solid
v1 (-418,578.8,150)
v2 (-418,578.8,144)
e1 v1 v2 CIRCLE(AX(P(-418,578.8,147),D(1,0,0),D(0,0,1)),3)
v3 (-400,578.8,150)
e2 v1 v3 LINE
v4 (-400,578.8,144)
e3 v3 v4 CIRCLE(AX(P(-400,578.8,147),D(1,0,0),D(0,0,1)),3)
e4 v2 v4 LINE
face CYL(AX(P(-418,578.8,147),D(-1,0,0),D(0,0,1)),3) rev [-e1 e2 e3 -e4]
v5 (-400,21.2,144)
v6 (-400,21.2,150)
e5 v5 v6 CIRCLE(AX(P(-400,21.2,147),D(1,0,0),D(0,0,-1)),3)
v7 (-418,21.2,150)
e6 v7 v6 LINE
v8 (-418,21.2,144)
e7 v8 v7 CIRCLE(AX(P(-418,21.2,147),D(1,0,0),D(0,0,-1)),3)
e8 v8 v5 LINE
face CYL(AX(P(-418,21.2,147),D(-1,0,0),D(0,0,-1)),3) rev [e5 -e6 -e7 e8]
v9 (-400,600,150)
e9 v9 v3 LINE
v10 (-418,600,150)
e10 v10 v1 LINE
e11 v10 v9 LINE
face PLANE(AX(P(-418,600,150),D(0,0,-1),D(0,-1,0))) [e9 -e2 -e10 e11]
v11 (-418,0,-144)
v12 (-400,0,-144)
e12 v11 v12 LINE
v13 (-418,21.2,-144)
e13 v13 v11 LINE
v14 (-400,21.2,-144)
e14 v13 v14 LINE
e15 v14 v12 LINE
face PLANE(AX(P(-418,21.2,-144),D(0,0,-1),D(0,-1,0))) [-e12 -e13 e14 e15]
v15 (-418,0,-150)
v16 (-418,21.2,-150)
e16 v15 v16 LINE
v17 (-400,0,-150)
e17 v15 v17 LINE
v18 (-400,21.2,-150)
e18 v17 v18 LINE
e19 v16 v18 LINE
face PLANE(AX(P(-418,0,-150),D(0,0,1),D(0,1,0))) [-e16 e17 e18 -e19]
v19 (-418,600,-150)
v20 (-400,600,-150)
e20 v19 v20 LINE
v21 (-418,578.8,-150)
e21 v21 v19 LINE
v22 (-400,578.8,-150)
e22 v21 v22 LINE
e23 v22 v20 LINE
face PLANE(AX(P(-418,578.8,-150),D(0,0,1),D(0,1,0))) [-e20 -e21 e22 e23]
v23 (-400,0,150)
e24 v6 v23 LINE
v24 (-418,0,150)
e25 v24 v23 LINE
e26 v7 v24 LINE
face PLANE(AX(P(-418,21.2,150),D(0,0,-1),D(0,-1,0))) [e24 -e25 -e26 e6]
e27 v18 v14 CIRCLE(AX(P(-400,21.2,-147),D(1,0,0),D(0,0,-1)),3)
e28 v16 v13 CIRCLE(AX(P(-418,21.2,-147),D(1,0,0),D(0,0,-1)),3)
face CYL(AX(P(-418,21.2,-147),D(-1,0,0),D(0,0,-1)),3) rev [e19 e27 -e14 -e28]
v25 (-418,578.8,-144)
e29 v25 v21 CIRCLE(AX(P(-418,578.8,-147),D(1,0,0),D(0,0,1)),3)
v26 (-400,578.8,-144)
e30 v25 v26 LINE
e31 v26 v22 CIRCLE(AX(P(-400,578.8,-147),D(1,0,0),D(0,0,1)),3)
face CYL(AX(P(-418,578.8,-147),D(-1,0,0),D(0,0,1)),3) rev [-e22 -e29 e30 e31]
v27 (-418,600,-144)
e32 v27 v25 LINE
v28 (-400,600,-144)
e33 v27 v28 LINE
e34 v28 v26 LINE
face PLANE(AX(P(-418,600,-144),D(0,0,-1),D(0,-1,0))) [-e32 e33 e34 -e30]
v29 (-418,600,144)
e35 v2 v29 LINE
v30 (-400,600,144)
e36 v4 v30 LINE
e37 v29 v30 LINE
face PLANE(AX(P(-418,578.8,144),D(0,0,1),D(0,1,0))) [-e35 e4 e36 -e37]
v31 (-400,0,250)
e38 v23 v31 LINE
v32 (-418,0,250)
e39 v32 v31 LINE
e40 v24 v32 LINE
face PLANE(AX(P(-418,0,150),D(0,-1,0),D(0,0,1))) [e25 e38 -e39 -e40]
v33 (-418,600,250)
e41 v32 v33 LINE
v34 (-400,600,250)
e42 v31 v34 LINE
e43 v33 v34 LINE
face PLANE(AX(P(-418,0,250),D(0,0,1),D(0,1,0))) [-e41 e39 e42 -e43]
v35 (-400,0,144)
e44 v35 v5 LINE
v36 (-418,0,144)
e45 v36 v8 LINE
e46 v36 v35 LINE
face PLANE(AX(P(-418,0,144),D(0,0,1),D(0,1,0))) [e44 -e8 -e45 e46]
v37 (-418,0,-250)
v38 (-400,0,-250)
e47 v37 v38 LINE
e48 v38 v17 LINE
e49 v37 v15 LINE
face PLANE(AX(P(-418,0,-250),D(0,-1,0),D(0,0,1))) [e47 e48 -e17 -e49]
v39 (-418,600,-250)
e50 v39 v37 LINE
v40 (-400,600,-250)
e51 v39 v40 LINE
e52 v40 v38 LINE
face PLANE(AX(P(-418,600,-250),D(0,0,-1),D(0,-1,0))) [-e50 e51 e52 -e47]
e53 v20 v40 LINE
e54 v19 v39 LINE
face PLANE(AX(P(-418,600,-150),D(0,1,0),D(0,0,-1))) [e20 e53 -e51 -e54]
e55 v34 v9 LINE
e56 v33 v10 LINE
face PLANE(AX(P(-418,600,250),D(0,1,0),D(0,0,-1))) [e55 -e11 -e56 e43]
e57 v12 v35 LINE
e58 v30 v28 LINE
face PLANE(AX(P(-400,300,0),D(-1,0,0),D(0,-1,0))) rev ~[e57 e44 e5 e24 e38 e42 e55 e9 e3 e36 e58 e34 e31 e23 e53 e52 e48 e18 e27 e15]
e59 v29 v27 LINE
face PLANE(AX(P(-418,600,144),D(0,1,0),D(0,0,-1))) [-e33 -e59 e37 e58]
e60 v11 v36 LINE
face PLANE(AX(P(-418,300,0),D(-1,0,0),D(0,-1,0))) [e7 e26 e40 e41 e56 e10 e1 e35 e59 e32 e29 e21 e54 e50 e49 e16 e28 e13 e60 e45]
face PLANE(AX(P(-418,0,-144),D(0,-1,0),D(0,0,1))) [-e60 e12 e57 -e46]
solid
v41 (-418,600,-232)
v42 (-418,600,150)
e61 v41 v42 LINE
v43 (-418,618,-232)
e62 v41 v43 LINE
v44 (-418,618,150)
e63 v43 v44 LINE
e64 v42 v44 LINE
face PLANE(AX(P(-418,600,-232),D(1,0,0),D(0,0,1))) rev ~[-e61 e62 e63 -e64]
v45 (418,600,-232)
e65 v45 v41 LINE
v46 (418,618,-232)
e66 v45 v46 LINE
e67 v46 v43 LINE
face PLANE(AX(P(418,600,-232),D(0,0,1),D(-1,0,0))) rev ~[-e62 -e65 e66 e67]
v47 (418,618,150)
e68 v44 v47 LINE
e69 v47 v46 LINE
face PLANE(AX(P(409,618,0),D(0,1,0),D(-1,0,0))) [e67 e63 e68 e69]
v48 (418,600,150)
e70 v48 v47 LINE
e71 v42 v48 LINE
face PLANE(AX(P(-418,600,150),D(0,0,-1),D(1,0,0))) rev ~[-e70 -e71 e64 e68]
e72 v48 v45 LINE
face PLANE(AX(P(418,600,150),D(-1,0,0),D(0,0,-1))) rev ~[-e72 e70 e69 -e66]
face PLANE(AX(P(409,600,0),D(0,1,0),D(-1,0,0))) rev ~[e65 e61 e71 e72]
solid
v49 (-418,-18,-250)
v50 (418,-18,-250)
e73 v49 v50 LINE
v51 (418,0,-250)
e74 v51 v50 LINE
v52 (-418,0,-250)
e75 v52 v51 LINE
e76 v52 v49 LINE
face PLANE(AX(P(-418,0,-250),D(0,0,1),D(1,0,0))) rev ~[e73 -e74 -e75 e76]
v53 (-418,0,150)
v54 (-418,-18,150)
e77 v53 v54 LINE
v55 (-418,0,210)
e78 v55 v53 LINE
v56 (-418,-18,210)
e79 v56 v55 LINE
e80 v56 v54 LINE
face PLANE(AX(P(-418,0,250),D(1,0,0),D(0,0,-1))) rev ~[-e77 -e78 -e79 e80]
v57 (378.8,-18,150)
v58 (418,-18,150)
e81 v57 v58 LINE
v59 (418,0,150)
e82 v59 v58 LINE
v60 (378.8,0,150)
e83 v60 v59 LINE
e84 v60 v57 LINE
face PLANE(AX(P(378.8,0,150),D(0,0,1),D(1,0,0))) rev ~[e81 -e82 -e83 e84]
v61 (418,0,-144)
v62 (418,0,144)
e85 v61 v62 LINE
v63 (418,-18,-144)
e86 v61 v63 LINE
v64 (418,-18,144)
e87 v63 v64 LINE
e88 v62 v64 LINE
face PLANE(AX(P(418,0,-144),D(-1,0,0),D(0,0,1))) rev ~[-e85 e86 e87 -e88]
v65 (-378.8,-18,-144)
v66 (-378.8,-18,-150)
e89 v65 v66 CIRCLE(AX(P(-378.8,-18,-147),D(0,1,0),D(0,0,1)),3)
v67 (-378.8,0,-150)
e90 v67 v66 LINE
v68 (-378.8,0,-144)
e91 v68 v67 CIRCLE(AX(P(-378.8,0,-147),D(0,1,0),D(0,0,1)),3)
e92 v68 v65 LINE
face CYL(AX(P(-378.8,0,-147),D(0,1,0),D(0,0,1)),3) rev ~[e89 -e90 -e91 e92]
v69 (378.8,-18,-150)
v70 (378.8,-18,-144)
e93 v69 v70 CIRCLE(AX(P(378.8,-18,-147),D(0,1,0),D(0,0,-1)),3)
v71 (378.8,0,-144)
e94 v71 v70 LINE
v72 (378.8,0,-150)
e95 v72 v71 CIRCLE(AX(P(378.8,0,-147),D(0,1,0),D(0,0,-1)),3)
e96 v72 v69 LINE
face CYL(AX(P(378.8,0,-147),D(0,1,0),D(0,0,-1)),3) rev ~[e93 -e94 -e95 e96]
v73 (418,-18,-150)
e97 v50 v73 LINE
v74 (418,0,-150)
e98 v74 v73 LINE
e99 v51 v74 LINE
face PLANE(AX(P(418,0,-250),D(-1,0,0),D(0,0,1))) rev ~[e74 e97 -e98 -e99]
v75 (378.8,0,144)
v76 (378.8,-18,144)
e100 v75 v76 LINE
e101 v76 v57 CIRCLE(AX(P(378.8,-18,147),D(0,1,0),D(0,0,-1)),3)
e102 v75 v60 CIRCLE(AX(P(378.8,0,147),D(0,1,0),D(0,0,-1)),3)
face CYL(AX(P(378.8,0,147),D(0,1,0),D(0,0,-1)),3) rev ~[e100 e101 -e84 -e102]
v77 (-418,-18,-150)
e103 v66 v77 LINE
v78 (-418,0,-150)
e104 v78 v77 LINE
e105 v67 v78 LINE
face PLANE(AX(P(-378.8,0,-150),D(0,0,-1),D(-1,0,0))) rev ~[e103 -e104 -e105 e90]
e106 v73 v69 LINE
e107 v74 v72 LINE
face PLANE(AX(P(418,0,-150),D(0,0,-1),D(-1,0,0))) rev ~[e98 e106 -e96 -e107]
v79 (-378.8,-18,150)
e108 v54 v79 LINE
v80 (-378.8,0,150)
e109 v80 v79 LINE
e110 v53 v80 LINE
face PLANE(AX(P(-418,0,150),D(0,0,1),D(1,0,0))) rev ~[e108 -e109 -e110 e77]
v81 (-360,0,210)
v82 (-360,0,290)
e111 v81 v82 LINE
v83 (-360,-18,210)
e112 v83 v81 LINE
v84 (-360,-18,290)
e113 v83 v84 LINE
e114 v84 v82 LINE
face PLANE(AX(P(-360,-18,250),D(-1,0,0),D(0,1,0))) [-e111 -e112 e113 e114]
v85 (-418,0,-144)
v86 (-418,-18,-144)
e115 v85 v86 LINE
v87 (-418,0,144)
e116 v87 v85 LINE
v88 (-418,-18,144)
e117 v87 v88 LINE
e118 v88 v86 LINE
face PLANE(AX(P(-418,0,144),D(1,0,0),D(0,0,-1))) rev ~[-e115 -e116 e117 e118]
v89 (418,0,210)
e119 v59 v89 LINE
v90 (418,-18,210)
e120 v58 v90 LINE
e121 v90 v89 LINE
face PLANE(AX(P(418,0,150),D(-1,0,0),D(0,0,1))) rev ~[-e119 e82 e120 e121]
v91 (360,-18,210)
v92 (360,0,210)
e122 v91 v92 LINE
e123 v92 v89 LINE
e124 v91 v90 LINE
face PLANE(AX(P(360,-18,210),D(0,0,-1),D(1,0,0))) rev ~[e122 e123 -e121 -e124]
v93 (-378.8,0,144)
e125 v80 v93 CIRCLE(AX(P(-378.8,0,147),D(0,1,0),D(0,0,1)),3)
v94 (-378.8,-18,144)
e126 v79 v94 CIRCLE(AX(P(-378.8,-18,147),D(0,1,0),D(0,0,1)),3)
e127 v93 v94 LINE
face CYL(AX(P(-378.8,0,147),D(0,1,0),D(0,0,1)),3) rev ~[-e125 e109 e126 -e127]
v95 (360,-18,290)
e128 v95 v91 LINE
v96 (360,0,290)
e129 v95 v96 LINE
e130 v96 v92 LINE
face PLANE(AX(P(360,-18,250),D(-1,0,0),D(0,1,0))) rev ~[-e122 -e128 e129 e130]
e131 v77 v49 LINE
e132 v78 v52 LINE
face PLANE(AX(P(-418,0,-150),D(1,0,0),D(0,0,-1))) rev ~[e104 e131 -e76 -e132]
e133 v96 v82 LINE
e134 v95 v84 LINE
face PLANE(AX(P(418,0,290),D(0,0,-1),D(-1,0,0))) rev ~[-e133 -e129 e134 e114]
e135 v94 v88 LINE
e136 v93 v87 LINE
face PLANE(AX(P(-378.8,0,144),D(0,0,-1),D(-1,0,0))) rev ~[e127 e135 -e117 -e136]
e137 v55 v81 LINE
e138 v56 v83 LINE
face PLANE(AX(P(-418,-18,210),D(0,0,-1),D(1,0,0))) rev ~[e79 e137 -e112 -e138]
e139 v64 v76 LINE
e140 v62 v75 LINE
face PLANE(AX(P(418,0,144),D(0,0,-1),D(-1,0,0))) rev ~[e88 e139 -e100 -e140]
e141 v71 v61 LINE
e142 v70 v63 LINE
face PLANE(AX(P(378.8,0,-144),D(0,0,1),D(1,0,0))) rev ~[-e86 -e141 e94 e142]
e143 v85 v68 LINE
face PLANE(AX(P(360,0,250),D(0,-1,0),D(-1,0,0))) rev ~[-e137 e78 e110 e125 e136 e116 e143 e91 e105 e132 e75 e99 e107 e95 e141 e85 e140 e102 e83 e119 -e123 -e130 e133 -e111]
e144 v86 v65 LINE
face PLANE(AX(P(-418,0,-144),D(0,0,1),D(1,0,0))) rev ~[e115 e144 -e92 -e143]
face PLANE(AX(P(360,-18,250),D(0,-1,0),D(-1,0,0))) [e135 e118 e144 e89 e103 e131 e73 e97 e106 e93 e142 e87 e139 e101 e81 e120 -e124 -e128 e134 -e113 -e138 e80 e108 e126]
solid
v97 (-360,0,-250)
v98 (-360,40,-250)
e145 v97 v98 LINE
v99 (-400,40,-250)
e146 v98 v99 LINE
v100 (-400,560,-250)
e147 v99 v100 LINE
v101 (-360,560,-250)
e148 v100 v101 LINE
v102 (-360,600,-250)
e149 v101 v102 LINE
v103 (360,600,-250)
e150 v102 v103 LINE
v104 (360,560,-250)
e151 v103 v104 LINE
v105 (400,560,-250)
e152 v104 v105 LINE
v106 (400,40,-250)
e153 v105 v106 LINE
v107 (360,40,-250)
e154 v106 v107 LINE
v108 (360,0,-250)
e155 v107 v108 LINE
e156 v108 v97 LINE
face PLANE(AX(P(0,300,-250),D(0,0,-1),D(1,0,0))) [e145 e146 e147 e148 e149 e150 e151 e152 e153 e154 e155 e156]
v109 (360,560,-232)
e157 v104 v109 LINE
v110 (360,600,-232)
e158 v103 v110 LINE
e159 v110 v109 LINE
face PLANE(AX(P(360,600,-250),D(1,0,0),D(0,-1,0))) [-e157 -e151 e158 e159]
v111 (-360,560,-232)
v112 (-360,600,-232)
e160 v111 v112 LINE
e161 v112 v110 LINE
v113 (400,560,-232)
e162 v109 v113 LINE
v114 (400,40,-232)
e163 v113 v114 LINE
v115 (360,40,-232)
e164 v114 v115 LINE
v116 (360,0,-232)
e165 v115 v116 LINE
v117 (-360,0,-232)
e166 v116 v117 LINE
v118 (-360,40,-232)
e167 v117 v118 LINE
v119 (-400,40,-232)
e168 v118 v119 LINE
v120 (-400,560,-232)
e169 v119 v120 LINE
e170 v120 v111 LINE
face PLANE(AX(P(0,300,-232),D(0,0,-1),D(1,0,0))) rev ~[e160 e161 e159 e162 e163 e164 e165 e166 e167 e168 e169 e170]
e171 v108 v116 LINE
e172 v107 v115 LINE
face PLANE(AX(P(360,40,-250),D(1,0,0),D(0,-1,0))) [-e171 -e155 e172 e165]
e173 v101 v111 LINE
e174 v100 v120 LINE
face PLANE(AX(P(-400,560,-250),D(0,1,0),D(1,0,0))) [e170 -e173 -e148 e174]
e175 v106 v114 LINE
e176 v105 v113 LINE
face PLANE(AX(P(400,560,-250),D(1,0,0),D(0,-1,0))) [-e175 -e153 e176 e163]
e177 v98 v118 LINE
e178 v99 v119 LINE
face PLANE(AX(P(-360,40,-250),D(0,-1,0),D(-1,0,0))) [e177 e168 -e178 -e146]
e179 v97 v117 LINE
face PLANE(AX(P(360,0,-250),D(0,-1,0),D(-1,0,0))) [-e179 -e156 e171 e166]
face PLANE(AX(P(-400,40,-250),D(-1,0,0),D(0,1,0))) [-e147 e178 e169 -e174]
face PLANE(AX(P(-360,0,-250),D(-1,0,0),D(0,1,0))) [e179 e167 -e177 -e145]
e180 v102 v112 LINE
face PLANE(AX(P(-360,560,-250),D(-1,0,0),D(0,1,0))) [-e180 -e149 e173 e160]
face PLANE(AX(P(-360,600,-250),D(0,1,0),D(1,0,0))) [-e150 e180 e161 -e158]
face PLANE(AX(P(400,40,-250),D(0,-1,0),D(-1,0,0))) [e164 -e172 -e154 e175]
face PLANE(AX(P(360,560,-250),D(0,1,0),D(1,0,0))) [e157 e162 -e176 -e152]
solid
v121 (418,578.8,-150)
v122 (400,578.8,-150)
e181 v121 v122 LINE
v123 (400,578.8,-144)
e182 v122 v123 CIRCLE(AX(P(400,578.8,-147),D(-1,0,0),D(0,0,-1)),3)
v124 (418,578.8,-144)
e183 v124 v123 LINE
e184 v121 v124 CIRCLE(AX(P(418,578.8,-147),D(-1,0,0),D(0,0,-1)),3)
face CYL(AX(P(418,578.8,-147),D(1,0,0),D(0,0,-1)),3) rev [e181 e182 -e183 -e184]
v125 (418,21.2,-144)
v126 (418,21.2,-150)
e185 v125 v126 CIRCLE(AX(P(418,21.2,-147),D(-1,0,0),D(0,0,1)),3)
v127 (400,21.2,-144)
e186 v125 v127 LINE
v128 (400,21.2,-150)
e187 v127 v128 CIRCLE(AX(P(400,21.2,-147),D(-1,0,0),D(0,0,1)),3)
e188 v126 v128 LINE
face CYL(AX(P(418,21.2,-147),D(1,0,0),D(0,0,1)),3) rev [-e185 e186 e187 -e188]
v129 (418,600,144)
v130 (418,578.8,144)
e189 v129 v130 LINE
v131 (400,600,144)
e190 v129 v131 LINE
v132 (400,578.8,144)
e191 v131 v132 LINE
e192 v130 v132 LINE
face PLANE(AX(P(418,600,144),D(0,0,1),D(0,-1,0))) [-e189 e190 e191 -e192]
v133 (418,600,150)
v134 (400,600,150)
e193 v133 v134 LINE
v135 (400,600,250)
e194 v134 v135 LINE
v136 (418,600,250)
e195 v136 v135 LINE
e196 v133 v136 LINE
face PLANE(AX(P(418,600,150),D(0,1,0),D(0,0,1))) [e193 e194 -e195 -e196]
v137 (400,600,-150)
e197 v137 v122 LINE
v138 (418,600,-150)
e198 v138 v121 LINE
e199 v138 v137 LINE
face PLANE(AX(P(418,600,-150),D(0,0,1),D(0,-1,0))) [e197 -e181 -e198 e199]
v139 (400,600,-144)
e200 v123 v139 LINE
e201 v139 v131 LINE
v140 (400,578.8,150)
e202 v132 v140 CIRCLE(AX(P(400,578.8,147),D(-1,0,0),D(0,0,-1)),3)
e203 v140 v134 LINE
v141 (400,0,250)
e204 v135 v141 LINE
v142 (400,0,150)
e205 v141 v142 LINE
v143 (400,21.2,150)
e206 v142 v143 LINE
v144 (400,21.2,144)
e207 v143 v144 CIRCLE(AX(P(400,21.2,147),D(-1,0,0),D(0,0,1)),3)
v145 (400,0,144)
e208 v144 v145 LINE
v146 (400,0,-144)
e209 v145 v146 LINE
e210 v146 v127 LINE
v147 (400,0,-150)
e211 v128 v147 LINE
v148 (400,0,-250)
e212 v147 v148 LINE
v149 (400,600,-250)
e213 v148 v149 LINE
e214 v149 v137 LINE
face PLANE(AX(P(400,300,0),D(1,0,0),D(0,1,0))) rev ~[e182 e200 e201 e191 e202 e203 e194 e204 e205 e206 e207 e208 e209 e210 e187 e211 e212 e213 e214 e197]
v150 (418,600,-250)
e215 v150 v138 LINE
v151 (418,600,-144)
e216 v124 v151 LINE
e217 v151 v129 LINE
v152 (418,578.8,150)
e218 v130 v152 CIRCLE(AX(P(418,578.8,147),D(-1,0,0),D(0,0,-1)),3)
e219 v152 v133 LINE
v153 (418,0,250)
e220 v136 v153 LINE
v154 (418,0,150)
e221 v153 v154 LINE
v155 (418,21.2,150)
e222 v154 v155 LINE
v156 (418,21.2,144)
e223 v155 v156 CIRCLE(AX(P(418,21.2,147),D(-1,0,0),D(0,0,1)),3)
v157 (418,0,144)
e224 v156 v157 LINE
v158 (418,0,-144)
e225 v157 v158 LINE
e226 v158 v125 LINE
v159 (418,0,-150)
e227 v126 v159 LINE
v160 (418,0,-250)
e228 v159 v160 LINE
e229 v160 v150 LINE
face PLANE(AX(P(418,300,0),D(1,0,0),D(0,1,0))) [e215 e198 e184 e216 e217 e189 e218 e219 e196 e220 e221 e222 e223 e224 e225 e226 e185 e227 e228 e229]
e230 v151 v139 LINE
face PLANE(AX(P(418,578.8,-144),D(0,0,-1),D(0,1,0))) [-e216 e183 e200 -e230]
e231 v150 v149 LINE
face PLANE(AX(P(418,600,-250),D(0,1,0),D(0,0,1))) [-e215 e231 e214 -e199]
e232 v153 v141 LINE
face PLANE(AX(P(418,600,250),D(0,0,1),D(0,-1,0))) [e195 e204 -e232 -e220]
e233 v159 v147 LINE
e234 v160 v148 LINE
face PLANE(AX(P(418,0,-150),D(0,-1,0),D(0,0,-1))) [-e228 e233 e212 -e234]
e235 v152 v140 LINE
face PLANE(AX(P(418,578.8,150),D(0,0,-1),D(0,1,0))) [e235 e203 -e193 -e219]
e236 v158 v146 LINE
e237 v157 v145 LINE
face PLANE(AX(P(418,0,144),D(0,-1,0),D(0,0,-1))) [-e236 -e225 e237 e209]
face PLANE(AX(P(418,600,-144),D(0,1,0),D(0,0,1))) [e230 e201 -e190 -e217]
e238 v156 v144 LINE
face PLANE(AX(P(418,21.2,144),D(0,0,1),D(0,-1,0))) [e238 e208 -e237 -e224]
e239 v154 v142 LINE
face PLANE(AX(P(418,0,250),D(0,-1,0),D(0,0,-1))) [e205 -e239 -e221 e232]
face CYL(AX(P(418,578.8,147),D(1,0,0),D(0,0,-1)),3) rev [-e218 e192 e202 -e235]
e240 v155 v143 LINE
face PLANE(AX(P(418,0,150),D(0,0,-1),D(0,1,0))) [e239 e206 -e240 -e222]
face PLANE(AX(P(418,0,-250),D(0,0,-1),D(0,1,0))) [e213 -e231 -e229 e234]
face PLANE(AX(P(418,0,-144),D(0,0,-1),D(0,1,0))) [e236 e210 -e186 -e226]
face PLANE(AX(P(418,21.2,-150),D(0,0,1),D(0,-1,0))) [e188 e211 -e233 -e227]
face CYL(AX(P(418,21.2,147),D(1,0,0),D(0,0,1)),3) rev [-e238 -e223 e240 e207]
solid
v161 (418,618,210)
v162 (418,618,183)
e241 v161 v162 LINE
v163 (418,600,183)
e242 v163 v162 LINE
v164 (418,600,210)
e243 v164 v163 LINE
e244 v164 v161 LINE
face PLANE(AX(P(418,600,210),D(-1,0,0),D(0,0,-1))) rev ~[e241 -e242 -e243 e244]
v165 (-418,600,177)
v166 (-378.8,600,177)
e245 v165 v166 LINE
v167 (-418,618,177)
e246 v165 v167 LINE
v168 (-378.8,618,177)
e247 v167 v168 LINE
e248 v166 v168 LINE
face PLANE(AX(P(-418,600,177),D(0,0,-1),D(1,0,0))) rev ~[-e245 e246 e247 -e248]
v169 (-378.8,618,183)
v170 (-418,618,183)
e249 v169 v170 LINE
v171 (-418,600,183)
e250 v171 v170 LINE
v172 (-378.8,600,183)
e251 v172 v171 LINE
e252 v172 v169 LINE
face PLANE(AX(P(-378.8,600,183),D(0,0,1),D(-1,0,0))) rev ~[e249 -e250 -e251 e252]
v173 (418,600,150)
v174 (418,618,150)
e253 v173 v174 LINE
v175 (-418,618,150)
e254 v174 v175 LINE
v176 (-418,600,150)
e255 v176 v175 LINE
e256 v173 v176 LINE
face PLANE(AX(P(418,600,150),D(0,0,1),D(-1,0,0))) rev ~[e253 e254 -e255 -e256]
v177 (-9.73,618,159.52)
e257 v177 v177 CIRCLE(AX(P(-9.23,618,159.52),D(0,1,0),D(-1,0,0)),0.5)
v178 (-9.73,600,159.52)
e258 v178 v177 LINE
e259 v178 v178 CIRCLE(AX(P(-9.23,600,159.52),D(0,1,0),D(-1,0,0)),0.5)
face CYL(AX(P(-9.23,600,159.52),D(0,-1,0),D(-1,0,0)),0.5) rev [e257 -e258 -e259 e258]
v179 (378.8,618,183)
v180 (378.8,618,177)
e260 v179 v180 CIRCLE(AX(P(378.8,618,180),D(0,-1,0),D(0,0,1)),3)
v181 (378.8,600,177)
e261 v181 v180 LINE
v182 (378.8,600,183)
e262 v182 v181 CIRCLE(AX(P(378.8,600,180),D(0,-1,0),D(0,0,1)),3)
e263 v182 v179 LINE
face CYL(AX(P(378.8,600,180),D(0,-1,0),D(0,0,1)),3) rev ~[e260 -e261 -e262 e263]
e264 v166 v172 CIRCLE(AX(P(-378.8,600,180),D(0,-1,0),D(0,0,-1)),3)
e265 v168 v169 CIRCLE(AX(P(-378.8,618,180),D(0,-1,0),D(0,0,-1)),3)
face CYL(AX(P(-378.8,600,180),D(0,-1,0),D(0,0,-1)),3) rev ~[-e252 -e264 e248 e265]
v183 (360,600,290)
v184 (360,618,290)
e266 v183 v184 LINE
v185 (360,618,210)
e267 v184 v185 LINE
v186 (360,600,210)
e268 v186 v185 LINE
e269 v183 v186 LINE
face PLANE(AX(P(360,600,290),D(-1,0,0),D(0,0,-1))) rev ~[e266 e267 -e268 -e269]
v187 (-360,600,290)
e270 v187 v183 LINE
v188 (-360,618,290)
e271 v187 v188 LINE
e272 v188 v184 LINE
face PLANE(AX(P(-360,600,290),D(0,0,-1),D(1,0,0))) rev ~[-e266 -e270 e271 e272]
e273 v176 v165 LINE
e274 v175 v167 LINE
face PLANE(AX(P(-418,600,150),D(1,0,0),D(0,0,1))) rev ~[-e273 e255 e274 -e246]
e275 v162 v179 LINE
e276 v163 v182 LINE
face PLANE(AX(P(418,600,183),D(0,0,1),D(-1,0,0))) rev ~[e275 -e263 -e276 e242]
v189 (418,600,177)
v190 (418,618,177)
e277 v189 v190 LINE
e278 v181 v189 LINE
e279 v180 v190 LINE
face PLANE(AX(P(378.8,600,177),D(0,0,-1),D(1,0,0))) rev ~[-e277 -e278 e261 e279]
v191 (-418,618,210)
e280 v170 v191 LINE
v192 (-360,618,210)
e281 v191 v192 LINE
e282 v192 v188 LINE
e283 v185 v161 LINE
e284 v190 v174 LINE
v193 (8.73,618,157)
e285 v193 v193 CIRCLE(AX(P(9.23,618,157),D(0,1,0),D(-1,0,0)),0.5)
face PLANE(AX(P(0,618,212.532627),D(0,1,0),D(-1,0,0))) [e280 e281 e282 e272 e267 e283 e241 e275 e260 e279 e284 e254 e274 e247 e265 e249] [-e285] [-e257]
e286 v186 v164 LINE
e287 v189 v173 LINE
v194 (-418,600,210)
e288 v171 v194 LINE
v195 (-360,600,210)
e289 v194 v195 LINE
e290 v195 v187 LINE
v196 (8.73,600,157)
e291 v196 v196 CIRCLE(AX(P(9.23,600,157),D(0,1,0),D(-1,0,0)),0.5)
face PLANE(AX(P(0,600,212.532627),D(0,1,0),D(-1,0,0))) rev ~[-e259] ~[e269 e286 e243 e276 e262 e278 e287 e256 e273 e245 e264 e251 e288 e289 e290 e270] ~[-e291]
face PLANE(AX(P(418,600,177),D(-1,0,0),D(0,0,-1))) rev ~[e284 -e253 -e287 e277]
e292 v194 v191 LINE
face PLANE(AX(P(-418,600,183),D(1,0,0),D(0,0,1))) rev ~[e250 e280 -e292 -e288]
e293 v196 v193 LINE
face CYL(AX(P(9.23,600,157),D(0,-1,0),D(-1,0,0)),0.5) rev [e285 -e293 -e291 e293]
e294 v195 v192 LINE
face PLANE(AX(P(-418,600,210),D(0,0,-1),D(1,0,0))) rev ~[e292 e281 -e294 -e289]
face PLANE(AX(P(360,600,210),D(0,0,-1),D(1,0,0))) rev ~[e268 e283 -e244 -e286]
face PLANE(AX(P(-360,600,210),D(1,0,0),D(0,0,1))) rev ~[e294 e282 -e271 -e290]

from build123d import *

# Parameters (mm, degrees)
F1_DEPTH  = 18
F3_DEPTH  = 18
F5_DEPTH  = 18
F6_W      = 58
F6_H      = 40
F7_DEPTH  = 25
F8_DEPTH  = 40
F10_DEPTH = 18
F11_R     = 0.5
F12_DEPTH = 18
F11_W     = 18
F11_H     = 288
F13_DEPTH = 18


with BuildPart() as f1:
    # F0 (on Front) → F1 (new body)
    with BuildSketch(Plane.XZ):
        with BuildLine():
            Line((-418, -250), (418, -250))
            Line((418, -250), (418, -150))
            Line((418, -150), (378.8, -150))
            ThreePointArc((378.8, -150), (375.8, -147), (378.8, -144))
            Line((378.8, -144), (418, -144))
            Line((418, -144), (418, 144))
            Line((418, 144), (378.8, 144))
            ThreePointArc((378.8, 144), (375.8, 147), (378.8, 150))
            Line((378.8, 150), (418, 150))
            Line((418, 150), (418, 250))
            Line((418, 250), (-418, 250))
            Line((-418, 250), (-418, 150))
            Line((-418, 150), (-378.8, 150))
            ThreePointArc((-378.8, 150), (-375.8, 147), (-378.8, 144))
            Line((-378.8, 144), (-418, 144))
            Line((-418, 144), (-418, -144))
            Line((-418, -144), (-378.8, -144))
            ThreePointArc((-378.8, -144), (-375.8, -147), (-378.8, -150))
            Line((-378.8, -150), (-418, -150))
            Line((-418, -150), (-418, -250))
        make_face()
    extrude(amount=F1_DEPTH)

    # F6 (on face) → F7 (cut)
    with BuildSketch(Plane.XZ.offset(18)):
        with Locations((-389, 230)):
            Rectangle(F6_W, F6_H)
        with Locations((389, 230)):
            Rectangle(F6_W, F6_H)
    extrude(amount=-F7_DEPTH, mode=Mode.SUBTRACT)

    # F8 (add): a face of the model
    f8_faces = [f1.faces().sort_by_distance(p)[0] for p in [
        (0, -9, 250),
    ]]
    extrude(f8_faces, amount=F8_DEPTH)


with BuildPart() as f3:
    # F2 (on face) → F3 (new body)
    with BuildSketch(Plane.YZ.offset(418)):
        with BuildLine():
            Line((600, 250), (0, 250))
            Line((0, 250), (0, 150))
            Line((0, 150), (21.2, 150))
            ThreePointArc((21.2, 150), (24.2, 147), (21.2, 144))
            Line((21.2, 144), (0, 144))
            Line((0, 144), (0, -144))
            Line((0, -144), (21.2, -144))
            ThreePointArc((21.2, -144), (24.2, -147), (21.2, -150))
            Line((21.2, -150), (0, -150))
            Line((0, -150), (0, -250))
            Line((0, -250), (600, -250))
            Line((600, -250), (600, -150))
            Line((600, -150), (578.8, -150))
            ThreePointArc((578.8, -150), (575.8, -147), (578.8, -144))
            Line((578.8, -144), (600, -144))
            Line((600, -144), (600, 144))
            Line((600, 144), (578.8, 144))
            ThreePointArc((578.8, 144), (575.8, 147), (578.8, 150))
            Line((578.8, 150), (600, 150))
            Line((600, 150), (600, 250))
        make_face()
    extrude(amount=-F3_DEPTH)


with BuildPart() as f5:
    # F4 (on face) → F5 (new body)
    with BuildSketch(Plane(origin=(-418, 0, 0), x_dir=(0, -1, 0), z_dir=(-1, 0, 0))):
        with BuildLine():
            Line((0, 150), (0, 250))
            Line((0, 250), (-600, 250))
            Line((-600, 250), (-600, 150))
            Line((-600, 150), (-578.8, 150))
            ThreePointArc((-578.8, 150), (-575.8, 147), (-578.8, 144))
            Line((-578.8, 144), (-600, 144))
            Line((-600, 144), (-600, -144))
            Line((-600, -144), (-578.8, -144))
            ThreePointArc((-578.8, -144), (-575.8, -147), (-578.8, -150))
            Line((-578.8, -150), (-600, -150))
            Line((-600, -150), (-600, -250))
            Line((-600, -250), (0, -250))
            Line((0, -250), (0, -150))
            Line((0, -150), (-21.2, -150))
            ThreePointArc((-21.2, -150), (-24.2, -147), (-21.2, -144))
            Line((-21.2, -144), (0, -144))
            Line((0, -144), (0, 144))
            Line((0, 144), (-21.2, 144))
            ThreePointArc((-21.2, 144), (-24.2, 147), (-21.2, 150))
            Line((-21.2, 150), (0, 150))
        make_face()
    extrude(amount=-F5_DEPTH)


with BuildPart() as f10:
    # F9 (on face) → F10 (new body)
    with BuildSketch(Plane(origin=(0, 0, -250), x_dir=(1, 0, 0), z_dir=(0, 0, -1))):
        Polygon((-400, -40), (-400, -560), (-360, -560), (-360, -600), (360, -600), (360, -560), (400, -560), (400, -40), (360, -40), (360, 0), (-360, 0), (-360, -40), align=None)
    extrude(amount=-F10_DEPTH)


with BuildPart() as f12:
    # F11 (on face) → F12 (new body)
    with BuildSketch(Plane(origin=(0, 600, 0), x_dir=(-1, 0, 0), z_dir=(0, 1, 0))):
        with BuildLine():
            Line((360, 290), (-360, 290))
            Line((-360, 290), (-360, 210))
            Line((-360, 210), (-418, 210))
            Line((-418, 210), (-418, 183))
            Line((-418, 183), (-378.8, 183))
            ThreePointArc((-378.8, 183), (-375.8, 180), (-378.8, 177))
            Line((-378.8, 177), (-418, 177))
            Line((-418, 177), (-418, 150))
            Line((-418, 150), (-16.23, 150))
            Line((-16.23, 150), (16.23, 150))
            Line((16.23, 150), (418, 150))
            Line((418, 150), (418, 177))
            Line((418, 177), (378.8, 177))
            ThreePointArc((378.8, 177), (375.8, 180), (378.8, 183))
            Line((378.8, 183), (418, 183))
            Line((418, 183), (418, 210))
            Line((418, 210), (360, 210))
            Line((360, 210), (360, 290))
        make_face()
        with Locations((-9.23, 157)):
            Circle(F11_R, mode=Mode.SUBTRACT)
        with Locations((9.23, 159.52)):
            Circle(F11_R, mode=Mode.SUBTRACT)
    extrude(amount=F12_DEPTH)


with BuildPart() as f13:
    # F11 (on face) → F13 (new body)
    with BuildSketch(Plane(origin=(0, 600, 0), x_dir=(-1, 0, 0), z_dir=(0, 1, 0))):
        with Locations((-409, 0)):
            Rectangle(F11_W, F11_H)
        Polygon((-16.23, 150), (-418, 150), (-418, 144), (-400, 144), (-400, -144), (-418, -144), (-418, -232), (418, -232), (418, 150), (16.23, 150), align=None)
    extrude(amount=F13_DEPTH)


solid = Compound([f1.part, f3.part, f5.part, f10.part, f12.part, f13.part])
